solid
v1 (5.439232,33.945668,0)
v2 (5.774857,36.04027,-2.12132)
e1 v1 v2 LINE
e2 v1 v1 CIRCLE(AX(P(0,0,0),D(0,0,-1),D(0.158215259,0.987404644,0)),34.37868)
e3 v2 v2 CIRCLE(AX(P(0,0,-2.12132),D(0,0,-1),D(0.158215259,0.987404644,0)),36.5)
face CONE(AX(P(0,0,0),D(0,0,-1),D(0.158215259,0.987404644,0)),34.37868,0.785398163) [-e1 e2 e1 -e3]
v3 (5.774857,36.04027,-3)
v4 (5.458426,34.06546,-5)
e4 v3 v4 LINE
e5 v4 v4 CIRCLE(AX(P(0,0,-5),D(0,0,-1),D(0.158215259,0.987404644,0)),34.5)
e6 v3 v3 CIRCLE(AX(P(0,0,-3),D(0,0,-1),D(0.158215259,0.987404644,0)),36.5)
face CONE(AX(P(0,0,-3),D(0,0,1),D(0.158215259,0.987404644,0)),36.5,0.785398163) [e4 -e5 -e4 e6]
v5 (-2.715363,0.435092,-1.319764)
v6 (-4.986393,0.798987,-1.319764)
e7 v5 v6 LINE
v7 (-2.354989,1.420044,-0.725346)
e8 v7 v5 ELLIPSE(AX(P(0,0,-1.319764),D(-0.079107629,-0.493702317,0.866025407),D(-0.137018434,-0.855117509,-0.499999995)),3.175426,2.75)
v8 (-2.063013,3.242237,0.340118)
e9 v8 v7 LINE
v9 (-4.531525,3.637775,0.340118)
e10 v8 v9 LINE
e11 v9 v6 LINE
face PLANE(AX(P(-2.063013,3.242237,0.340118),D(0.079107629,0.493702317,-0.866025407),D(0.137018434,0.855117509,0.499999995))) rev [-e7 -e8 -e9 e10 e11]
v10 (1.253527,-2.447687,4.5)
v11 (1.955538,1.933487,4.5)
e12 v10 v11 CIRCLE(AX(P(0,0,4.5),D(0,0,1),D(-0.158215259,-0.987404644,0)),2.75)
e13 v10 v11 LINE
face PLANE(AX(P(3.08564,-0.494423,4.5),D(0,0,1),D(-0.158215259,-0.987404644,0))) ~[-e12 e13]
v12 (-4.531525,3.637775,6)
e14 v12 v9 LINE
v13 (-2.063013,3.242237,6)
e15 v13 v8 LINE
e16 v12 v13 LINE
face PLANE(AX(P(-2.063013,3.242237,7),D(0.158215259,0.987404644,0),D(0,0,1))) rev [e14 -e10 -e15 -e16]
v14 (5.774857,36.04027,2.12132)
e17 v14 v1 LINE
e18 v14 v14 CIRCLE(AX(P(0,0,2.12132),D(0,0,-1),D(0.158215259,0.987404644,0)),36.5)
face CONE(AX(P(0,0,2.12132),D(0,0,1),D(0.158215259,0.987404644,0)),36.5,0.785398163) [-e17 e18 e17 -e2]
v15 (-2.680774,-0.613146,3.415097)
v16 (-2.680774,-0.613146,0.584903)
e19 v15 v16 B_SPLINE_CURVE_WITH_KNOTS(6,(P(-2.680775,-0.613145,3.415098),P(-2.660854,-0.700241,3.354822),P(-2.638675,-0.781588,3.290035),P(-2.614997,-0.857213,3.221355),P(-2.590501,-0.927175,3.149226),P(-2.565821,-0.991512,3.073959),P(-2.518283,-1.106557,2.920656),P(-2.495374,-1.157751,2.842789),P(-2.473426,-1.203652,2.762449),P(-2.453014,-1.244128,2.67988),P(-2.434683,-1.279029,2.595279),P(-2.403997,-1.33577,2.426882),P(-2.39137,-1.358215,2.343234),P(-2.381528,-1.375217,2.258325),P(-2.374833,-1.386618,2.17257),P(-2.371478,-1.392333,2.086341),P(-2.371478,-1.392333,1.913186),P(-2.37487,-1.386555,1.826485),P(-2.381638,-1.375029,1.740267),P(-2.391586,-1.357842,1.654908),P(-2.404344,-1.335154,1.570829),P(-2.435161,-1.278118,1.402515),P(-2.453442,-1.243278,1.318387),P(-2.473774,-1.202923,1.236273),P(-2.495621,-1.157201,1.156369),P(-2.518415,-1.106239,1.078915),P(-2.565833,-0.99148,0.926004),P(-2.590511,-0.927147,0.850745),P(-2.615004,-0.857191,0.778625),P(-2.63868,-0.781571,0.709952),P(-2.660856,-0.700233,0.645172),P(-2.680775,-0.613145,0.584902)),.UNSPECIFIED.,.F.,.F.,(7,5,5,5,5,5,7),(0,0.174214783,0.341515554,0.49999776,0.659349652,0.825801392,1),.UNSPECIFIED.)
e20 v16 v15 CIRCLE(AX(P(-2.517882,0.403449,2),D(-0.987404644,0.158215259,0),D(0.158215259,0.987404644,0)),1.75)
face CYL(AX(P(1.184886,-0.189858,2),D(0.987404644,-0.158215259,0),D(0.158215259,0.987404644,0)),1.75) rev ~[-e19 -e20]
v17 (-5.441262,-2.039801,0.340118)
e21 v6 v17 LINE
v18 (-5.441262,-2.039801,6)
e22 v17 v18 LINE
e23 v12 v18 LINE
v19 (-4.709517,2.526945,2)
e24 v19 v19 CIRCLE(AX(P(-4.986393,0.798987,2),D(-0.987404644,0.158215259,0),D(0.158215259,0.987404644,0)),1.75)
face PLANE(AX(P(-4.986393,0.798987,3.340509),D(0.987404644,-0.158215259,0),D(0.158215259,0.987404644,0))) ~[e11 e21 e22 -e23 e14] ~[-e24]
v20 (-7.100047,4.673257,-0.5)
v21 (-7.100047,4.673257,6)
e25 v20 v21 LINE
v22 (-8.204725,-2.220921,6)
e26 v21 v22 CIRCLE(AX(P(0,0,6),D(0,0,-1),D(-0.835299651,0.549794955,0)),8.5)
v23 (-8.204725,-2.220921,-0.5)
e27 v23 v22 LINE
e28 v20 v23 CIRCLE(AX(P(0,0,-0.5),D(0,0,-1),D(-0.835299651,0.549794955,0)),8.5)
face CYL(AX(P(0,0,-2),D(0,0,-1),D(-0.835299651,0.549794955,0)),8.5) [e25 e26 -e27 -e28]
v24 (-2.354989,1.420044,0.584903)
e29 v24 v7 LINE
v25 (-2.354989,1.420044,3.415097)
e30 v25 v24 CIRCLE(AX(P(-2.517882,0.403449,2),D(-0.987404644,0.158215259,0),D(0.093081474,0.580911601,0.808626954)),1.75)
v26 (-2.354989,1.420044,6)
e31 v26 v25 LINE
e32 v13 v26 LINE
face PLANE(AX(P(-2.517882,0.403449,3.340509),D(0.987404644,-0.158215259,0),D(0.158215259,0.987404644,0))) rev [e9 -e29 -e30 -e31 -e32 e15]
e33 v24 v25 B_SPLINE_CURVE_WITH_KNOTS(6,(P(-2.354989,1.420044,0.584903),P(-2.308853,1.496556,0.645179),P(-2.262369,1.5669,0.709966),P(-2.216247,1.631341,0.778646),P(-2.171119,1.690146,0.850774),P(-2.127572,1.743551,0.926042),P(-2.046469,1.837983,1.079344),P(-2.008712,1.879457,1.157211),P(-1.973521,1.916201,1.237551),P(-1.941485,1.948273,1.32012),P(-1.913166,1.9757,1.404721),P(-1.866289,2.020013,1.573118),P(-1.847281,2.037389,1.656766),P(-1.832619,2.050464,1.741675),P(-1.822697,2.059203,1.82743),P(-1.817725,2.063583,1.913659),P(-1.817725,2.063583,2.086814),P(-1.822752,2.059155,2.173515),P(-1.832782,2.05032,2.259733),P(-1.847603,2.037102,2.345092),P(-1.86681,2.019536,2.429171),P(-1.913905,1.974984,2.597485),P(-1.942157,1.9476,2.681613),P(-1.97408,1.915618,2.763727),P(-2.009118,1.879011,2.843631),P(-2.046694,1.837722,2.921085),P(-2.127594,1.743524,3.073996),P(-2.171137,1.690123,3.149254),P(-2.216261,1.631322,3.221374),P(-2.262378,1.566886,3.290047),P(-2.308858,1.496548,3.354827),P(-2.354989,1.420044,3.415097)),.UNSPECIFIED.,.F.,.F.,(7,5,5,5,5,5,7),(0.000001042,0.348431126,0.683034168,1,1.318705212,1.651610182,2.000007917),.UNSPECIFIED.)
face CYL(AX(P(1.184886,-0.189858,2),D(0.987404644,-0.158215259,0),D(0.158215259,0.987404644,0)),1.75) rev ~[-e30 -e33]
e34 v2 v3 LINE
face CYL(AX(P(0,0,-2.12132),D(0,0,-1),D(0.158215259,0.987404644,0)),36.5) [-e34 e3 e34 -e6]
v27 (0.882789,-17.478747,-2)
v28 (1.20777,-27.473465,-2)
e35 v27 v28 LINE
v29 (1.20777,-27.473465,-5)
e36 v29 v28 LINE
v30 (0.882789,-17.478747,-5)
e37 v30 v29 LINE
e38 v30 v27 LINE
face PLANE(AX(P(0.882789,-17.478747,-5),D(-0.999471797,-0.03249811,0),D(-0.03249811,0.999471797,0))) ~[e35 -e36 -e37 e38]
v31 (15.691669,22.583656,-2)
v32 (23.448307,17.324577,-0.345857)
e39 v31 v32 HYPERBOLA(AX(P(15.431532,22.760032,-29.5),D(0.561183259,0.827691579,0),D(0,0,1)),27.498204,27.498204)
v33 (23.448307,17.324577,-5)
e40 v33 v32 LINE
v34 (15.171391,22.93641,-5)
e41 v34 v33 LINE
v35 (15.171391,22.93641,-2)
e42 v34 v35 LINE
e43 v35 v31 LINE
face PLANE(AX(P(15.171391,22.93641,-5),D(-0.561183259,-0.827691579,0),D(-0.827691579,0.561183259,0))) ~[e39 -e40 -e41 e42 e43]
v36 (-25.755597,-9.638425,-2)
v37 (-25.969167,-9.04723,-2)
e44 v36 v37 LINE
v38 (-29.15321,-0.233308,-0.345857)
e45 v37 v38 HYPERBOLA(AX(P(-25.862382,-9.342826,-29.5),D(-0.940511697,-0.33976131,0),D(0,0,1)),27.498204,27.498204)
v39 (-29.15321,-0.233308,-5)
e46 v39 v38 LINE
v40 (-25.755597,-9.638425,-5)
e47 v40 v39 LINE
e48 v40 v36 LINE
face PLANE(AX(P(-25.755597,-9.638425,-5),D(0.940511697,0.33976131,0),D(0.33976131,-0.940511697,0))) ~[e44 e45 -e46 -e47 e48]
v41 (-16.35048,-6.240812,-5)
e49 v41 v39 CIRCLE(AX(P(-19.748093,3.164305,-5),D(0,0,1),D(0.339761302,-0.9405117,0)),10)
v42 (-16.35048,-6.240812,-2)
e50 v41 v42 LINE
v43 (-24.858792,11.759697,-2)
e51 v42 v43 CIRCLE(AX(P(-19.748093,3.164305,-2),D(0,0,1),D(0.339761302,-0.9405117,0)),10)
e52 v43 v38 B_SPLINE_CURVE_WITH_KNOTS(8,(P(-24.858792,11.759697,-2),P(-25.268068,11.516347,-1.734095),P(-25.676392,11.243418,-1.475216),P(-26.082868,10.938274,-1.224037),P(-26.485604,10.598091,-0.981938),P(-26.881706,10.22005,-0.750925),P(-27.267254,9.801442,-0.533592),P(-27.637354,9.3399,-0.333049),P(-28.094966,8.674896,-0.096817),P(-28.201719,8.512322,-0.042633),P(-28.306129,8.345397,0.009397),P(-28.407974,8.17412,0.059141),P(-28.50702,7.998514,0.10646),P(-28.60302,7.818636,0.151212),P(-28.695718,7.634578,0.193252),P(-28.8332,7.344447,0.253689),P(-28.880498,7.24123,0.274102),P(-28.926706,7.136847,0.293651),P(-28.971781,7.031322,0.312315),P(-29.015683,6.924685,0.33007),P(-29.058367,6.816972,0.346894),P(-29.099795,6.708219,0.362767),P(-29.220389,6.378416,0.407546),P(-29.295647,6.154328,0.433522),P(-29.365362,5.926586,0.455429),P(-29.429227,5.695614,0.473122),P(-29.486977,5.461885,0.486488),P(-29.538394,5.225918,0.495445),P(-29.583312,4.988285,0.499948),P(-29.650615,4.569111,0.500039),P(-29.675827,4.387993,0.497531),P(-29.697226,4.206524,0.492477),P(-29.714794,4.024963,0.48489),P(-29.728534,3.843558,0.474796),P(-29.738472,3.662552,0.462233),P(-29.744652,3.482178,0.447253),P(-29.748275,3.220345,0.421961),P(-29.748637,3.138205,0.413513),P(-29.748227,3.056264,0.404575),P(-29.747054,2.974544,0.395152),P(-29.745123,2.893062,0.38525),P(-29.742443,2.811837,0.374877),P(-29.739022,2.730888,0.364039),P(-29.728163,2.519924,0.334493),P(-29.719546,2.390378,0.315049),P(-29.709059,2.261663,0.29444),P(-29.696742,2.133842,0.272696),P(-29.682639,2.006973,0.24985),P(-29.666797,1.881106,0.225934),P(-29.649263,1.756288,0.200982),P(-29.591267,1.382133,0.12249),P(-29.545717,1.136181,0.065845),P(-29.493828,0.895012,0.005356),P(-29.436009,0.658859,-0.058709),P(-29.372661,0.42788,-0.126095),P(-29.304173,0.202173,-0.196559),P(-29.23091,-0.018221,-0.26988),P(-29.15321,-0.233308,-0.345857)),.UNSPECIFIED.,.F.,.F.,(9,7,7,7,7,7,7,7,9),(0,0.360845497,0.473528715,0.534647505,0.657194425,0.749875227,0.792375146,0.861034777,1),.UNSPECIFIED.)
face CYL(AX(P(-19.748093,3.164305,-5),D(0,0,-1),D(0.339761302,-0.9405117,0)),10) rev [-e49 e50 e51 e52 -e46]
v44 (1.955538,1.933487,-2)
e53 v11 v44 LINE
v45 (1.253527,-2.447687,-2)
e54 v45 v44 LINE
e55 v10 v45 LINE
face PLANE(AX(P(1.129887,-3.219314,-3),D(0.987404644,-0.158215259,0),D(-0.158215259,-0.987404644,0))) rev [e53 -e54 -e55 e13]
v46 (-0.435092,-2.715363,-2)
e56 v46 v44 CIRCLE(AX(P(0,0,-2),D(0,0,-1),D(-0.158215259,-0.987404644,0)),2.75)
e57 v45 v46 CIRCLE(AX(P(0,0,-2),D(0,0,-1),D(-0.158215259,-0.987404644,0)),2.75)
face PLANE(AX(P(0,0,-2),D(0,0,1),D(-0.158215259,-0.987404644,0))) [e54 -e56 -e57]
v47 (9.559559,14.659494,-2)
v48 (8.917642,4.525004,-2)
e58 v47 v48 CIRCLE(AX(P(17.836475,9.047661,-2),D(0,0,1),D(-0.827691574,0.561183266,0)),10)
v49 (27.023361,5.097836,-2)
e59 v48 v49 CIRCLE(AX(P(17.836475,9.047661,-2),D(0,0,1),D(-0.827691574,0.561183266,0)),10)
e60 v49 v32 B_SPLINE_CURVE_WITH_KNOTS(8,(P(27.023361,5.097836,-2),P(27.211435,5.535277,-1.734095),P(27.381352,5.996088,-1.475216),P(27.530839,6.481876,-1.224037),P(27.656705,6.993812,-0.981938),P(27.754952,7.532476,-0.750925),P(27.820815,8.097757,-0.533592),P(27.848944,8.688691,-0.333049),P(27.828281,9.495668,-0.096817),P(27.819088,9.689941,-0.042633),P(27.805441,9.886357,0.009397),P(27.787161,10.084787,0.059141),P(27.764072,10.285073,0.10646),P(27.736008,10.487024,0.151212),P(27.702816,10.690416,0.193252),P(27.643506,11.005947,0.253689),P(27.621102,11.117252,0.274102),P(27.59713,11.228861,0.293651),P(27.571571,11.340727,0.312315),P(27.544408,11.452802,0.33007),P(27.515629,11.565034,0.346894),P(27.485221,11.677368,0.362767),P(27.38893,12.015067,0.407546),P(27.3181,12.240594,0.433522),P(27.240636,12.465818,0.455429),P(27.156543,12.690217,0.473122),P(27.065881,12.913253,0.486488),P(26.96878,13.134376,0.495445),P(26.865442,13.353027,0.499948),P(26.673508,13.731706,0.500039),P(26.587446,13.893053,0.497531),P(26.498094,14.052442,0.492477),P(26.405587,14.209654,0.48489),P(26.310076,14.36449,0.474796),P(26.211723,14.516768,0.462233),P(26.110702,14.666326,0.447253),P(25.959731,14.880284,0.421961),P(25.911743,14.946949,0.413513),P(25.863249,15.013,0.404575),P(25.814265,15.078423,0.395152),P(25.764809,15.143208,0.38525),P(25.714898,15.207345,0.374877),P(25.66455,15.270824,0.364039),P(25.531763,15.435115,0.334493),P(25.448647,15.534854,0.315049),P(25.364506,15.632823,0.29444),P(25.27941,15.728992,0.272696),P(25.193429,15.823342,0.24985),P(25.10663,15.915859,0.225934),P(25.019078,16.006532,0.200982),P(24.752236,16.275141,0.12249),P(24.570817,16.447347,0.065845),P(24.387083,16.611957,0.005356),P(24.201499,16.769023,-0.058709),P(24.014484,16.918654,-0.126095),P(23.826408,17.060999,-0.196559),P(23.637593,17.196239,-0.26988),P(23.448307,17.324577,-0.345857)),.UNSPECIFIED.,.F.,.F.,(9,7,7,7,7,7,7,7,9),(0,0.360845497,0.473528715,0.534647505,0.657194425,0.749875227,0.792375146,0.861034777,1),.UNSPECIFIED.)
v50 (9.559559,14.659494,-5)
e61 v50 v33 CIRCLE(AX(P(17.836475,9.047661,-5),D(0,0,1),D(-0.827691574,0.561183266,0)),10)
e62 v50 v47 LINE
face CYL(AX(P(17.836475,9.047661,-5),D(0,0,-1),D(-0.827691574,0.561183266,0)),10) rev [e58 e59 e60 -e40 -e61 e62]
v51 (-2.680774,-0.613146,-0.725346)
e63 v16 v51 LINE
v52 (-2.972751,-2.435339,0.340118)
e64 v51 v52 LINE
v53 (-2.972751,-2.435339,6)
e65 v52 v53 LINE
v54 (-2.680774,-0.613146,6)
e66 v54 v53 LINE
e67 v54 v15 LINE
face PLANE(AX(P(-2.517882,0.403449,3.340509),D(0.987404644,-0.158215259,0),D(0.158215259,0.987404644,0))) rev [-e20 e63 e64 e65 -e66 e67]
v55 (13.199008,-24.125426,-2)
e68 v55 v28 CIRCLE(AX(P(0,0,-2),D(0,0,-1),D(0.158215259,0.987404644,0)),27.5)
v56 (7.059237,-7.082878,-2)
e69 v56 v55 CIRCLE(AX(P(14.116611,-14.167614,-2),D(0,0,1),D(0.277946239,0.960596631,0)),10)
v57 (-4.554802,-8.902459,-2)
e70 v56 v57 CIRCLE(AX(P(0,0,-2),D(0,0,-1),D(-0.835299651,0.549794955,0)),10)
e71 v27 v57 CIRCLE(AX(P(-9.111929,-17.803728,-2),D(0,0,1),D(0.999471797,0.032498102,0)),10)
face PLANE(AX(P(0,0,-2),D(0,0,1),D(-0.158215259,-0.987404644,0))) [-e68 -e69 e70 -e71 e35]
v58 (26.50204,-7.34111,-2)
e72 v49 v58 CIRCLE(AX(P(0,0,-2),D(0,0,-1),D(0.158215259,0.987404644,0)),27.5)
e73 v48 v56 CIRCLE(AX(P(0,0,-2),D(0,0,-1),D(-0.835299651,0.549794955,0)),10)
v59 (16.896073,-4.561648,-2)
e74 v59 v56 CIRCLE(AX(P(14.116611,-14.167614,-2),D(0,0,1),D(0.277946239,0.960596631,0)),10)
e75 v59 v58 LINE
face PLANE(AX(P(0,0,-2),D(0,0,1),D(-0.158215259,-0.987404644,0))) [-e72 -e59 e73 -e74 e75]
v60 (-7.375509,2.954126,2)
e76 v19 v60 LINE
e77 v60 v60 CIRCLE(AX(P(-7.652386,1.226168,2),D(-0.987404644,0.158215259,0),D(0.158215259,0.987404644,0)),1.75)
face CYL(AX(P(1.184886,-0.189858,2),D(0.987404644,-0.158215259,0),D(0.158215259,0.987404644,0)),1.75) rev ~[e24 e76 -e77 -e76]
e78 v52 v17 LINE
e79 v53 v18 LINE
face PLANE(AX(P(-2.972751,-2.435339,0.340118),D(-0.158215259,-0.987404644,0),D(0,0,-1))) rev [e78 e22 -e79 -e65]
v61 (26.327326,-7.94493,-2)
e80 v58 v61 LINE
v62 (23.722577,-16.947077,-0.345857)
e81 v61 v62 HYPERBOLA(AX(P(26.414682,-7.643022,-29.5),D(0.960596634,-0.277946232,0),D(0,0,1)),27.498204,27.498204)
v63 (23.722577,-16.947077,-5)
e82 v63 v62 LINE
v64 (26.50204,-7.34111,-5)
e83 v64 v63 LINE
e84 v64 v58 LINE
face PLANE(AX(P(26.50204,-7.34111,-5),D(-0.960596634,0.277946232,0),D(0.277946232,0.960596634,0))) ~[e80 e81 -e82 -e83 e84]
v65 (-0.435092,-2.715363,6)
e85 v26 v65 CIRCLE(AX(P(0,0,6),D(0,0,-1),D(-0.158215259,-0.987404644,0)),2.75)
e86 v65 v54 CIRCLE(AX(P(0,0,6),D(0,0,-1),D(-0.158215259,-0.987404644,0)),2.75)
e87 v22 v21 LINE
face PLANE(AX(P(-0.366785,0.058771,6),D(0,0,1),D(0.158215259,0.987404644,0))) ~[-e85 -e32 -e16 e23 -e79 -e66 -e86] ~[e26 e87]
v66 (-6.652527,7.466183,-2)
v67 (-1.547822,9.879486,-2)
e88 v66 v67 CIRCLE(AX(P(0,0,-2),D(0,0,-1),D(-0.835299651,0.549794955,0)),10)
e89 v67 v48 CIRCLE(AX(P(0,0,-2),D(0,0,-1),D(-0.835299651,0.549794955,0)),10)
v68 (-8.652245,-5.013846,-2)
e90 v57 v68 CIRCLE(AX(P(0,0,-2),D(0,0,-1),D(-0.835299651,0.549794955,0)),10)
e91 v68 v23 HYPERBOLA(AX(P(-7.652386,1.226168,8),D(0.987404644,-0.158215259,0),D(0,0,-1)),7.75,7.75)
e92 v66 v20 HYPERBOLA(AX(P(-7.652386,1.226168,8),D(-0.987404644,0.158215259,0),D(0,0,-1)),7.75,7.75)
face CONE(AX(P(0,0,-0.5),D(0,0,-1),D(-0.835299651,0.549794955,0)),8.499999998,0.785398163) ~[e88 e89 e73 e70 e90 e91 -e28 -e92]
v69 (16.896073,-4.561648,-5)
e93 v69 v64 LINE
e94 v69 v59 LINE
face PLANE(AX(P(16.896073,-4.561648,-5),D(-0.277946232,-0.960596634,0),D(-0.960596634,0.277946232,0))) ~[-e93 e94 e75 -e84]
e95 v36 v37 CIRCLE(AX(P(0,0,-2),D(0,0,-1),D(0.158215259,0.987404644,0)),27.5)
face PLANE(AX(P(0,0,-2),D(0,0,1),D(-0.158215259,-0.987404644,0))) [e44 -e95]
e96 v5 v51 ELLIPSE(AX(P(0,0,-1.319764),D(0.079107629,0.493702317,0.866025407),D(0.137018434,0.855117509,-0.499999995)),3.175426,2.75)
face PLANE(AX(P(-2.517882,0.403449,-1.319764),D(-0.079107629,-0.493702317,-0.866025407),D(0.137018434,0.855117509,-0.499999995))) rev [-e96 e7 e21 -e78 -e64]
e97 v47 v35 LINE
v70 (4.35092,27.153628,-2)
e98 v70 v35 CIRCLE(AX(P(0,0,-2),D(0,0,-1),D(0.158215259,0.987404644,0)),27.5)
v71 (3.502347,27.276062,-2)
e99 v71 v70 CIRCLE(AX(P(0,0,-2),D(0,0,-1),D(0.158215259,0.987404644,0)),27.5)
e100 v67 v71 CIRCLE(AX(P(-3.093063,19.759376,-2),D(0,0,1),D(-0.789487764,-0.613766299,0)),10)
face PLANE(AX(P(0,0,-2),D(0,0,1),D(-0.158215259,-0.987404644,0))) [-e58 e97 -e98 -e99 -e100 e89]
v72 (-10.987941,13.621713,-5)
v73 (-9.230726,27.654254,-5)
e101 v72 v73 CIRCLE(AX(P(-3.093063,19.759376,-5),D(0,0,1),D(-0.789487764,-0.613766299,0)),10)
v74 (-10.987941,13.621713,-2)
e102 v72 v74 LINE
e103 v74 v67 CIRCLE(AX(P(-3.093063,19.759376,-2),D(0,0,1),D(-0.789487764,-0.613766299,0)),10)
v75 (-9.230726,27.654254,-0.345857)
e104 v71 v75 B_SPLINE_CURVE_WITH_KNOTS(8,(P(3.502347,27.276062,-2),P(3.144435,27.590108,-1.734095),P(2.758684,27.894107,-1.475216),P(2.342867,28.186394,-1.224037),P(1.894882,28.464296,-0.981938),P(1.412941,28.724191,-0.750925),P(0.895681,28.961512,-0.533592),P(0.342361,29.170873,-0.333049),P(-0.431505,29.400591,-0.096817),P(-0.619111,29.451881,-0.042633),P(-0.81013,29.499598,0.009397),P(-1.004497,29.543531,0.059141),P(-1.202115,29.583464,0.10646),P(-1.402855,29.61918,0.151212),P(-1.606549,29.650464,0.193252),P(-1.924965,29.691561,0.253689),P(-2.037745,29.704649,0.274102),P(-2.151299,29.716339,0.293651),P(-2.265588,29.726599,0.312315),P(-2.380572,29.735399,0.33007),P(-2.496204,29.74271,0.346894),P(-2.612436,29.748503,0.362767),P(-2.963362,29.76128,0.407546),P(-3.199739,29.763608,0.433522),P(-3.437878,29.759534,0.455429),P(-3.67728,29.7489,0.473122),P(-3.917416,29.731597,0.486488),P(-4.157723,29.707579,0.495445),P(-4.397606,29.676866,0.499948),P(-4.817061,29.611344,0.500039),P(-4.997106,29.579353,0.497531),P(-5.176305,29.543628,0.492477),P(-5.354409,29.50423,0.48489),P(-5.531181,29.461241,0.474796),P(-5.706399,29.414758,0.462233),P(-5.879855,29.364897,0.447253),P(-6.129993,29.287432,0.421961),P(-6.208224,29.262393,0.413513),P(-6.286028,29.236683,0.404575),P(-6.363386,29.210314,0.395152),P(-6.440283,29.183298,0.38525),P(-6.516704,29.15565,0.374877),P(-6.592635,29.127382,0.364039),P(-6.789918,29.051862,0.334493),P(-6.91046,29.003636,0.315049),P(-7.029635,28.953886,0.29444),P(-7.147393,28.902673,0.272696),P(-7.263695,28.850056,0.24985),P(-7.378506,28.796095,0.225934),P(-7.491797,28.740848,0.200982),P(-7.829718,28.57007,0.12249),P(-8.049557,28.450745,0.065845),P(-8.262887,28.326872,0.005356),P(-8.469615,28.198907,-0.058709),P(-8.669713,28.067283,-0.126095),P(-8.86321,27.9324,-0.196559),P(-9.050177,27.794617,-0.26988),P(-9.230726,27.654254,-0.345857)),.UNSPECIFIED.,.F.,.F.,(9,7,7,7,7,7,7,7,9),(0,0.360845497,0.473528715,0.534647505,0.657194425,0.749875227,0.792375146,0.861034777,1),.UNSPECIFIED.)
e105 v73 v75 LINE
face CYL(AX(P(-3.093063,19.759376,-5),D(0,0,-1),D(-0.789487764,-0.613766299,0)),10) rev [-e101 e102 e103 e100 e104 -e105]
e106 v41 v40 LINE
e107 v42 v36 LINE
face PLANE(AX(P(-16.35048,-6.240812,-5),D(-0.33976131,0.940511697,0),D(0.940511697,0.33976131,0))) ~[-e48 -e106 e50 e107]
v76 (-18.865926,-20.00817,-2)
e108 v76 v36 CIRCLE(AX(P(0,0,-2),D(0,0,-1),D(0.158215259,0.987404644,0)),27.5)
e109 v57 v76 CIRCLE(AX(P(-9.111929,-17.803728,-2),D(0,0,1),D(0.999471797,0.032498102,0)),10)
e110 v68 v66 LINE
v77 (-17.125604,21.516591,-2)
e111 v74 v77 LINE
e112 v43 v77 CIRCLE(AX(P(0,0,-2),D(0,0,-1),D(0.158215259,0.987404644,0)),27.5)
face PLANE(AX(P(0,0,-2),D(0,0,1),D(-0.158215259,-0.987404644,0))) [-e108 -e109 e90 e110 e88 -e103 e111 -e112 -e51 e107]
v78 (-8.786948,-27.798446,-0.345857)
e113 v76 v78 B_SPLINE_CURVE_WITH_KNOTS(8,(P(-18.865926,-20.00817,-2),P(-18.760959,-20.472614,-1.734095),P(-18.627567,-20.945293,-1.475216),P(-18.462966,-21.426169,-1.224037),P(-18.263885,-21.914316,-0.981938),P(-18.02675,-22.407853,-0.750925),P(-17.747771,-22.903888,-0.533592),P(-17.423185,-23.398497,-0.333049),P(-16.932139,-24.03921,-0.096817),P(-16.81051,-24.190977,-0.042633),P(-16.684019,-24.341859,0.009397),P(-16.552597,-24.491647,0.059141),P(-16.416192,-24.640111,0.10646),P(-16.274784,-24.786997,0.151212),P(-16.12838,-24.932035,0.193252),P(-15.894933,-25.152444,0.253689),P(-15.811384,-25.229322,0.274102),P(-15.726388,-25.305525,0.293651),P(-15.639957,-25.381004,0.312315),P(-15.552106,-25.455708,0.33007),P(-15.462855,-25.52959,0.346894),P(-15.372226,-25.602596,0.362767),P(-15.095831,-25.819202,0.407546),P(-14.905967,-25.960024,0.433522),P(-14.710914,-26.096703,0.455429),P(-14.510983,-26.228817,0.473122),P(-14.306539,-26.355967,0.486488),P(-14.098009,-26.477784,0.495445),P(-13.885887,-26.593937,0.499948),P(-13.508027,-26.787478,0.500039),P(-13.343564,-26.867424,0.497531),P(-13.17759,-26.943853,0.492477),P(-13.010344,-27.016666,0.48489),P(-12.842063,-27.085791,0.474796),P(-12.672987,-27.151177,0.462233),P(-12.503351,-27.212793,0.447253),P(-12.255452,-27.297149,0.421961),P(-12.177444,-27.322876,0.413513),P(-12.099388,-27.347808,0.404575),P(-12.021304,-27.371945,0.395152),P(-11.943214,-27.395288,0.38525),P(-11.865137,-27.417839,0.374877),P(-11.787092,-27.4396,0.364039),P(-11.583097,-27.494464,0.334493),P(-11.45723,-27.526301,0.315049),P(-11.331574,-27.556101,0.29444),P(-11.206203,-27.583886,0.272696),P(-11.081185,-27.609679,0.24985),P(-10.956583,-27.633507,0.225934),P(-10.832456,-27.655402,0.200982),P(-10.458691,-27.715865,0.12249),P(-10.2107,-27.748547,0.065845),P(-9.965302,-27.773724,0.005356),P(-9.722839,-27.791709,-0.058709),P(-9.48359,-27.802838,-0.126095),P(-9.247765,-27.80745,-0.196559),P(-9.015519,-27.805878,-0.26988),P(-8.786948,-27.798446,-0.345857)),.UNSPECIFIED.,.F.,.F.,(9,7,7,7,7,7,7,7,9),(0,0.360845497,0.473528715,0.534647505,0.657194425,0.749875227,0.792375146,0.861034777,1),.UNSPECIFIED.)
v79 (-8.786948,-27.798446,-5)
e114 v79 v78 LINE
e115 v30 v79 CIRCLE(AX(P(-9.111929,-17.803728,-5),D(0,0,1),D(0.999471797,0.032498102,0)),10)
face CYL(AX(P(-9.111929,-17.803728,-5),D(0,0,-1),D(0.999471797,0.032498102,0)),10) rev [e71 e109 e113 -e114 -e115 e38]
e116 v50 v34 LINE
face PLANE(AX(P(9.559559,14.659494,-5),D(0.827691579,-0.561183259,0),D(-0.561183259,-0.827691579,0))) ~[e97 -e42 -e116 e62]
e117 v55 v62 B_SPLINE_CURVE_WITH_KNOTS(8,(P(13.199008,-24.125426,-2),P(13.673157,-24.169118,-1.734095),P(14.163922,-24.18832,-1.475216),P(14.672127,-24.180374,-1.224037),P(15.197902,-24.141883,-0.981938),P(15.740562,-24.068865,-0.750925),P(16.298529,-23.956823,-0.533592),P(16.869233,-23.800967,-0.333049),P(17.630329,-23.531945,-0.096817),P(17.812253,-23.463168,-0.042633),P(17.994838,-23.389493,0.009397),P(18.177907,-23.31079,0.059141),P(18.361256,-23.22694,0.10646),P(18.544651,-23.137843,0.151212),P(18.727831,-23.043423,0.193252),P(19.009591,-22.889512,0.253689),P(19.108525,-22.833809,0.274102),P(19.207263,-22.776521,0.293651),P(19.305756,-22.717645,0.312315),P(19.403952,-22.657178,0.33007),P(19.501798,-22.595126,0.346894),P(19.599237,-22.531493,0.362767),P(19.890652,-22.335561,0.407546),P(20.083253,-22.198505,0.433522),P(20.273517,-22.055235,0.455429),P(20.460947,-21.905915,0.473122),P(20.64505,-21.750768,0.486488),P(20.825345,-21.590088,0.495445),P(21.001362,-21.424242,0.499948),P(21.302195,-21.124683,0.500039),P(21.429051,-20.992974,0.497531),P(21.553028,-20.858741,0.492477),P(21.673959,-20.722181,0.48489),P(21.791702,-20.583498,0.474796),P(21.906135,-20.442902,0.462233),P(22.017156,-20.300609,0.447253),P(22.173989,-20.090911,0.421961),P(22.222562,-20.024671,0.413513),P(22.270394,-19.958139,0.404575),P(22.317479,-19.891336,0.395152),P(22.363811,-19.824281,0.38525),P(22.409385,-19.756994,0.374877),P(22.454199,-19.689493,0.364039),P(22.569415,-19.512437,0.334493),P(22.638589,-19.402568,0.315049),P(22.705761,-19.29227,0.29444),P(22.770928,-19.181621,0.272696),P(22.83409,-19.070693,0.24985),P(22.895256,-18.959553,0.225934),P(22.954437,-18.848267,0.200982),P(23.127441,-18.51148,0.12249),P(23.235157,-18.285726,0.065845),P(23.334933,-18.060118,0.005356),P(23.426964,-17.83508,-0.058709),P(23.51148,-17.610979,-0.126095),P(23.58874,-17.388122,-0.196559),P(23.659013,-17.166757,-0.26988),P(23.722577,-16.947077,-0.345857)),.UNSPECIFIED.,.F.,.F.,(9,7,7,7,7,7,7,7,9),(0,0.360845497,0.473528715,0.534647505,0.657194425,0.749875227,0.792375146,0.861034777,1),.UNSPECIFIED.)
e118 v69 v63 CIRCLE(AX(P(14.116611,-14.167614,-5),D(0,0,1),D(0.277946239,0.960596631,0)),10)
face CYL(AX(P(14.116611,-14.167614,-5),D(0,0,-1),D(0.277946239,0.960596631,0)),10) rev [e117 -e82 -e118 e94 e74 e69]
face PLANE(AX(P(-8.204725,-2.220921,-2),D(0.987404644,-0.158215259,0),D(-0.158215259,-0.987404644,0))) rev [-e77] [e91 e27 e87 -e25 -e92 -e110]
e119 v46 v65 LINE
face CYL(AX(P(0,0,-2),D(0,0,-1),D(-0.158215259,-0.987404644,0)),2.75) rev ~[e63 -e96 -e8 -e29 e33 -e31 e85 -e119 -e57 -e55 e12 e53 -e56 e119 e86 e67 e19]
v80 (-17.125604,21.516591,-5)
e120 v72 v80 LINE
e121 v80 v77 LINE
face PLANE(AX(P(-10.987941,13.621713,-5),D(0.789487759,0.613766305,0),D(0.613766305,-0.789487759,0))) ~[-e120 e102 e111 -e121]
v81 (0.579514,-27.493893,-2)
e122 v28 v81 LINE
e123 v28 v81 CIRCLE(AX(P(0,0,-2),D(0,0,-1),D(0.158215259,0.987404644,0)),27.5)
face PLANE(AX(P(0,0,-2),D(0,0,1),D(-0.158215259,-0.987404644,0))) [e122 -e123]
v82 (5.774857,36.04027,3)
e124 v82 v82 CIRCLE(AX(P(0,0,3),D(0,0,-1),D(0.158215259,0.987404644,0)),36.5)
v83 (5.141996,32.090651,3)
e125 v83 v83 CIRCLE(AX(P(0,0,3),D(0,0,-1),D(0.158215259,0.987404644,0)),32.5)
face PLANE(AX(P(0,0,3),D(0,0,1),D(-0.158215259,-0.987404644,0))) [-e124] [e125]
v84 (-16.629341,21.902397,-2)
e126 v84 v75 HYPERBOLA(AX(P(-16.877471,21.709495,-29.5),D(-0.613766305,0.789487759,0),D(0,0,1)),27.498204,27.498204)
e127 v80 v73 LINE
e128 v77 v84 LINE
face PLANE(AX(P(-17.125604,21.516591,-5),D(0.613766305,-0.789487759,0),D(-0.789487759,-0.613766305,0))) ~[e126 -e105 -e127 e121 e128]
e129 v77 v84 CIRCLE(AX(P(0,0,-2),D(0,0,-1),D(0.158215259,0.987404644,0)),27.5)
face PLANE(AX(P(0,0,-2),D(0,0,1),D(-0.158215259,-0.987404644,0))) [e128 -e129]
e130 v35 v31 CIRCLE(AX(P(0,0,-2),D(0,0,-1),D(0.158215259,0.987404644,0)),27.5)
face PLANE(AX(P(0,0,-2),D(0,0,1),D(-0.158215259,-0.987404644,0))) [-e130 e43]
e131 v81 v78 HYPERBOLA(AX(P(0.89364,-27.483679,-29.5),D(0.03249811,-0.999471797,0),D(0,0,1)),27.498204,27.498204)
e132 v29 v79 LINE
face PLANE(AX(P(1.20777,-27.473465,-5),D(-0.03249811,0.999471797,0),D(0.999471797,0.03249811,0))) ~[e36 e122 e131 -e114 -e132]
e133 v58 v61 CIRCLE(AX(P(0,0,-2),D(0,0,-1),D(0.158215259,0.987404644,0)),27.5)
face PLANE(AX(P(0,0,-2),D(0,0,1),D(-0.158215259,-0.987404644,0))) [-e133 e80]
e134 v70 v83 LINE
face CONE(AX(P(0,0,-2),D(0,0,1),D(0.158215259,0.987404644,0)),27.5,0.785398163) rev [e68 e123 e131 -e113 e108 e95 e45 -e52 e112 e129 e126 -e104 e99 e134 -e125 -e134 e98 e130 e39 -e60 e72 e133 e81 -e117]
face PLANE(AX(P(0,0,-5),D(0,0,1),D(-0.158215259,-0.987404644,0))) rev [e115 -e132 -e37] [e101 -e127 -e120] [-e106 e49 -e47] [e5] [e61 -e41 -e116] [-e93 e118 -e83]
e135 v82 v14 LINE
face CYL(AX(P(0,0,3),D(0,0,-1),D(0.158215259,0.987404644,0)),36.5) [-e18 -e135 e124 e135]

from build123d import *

# Parameters (mm, degrees)
PAD_DEPTH              = 2.5
CYLINDER001_R          = 1.75
CYLINDER001_DEPTH      = 10
CYLINDER001_ROLL_ANGLE = 90
BOX_W                  = 6
BOX_H                  = 3
BOX_DEPTH              = 7.5
SKETCH003_R            = 2.75
PAD001_DEPTH           = 8
CHAMFER_SIZE           = 1.5
POCKET_DEPTH           = 218.644926
POLARPATTERN_COUNT     = 5


with BuildPart() as captive_nut:
    # Sketch002 → Pad (new body)
    with BuildSketch(Plane.XZ):
        Polygon((-2.875, 5), (2.875, 5), (2.875, -1.659882), (0, -3.319764), (-2.875, -1.659882), align=None)
    extrude(amount=PAD_DEPTH)


with BuildPart() as captive_nut_1:
    # Clone placement: moved
    add(captive_nut.part.moved(Location((0, -3.75, 2))))


with BuildPart() as captive_nut_screw_fusion:
    # Cylinder001 → Cylinder001 (new body)
    with BuildSketch(Plane.XY):
        Circle(CYLINDER001_R)
    extrude(amount=CYLINDER001_DEPTH)


with BuildPart() as captive_nut_screw_fusion_1:
    # Cylinder001 roll: moved
    add(captive_nut_screw_fusion.part.rotate(Axis((0, 0, 0), (1, 0, 0)), CYLINDER001_ROLL_ANGLE))


with BuildPart() as captive_nut_screw_fusion_2:
    # Cylinder001 placement: moved
    add(captive_nut_screw_fusion_1.part.moved(Location((0, 0, 2))))

    # Fusion: union captive-nut
    add(captive_nut_1.part)


with BuildPart() as captive_nut_screw_fusion_3:
    # Fusion placement: moved
    add(captive_nut_screw_fusion_2.part.moved(Location((0, 1.2, 0))))


with BuildPart() as shaft_recess_cube:
    # Box → Box (new body)
    with BuildSketch(Plane(origin=(-3, 1.625, -3), x_dir=(1, 0, 0), z_dir=(0, 0, 1))):
        with Locations((3, 1.5)):
            Rectangle(BOX_W, BOX_H)
    extrude(amount=BOX_DEPTH)


with BuildPart() as polarpattern:
    # Sketch → Revolution (revolve)
    with BuildSketch(Plane.XZ):
        Polygon((0, -2), (27.5, -2), (32.5, 3), (36.5, 3), (36.5, 2.12132), (34.37868, 0), (36.5, -2.12132), (36.5, -3), (34.5, -5), (0, -5), align=None)
    revolve(axis=Axis((0, 0, 0), (0, 0, 1)))

    # Sketch003 → Pad001 (new body)
    with BuildSketch(Plane(origin=(0, 0, -2), x_dir=(-1, 0, 0), z_dir=(0, 0, 1))):
        with BuildLine():
            ThreePointArc((-3.49106, 7.75), (0, -8.5), (3.49106, 7.75))
            Line((3.49106, 7.75), (-3.49106, 7.75))
        make_face()
        Circle(SKETCH003_R, mode=Mode.SUBTRACT)
    extrude(amount=PAD001_DEPTH)

    # Fusion001: union shaft-recess-cube
    add(shaft_recess_cube.part)

    # Cut: cut captive-nut-screw-fusion
    add(captive_nut_screw_fusion_3.part, mode=Mode.SUBTRACT)

    # Chamfer
    chamfer_edges = [polarpattern.edges().sort_by_distance(p)[0] for p in [
        (0, 8.5, -2),
    ]]
    chamfer(chamfer_edges, length=CHAMFER_SIZE)

    # Sketch004 → Pocket (cut, through all)
    with BuildSketch(Plane(origin=(0, 0, -5), x_dir=(1, 0, 0), z_dir=(0, 0, -1))):
        with BuildLine():
            ThreePointArc((-8.749102, 15.157148), (9.610963, 17.237864), (-4.842852, 28.749102))
            Line((-13.591954, 23.90625), (-4.842852, 28.749102))
            Line((-8.749102, 15.157148), (-13.591954, 23.90625))
        make_face()
    pocket = extrude(amount=-POCKET_DEPTH, mode=Mode.SUBTRACT)

    # PolarPattern: Pocket ×5 about axis
    polarpattern_axis = Axis((0, 0, -5), (0, 0, -1))
    for i in range(1, POLARPATTERN_COUNT):
        add(pocket.rotate(polarpattern_axis, i * 360 / POLARPATTERN_COUNT), mode=Mode.SUBTRACT)


with BuildPart() as wheel_l:
    # mirror: instance of PolarPattern
    add(polarpattern.part.mirror(Plane(origin=(0, 0, 0), x_dir=(-0.760991, -0.648762, 0), z_dir=(0.648762, -0.760991, 0))))


solid = wheel_l.part
